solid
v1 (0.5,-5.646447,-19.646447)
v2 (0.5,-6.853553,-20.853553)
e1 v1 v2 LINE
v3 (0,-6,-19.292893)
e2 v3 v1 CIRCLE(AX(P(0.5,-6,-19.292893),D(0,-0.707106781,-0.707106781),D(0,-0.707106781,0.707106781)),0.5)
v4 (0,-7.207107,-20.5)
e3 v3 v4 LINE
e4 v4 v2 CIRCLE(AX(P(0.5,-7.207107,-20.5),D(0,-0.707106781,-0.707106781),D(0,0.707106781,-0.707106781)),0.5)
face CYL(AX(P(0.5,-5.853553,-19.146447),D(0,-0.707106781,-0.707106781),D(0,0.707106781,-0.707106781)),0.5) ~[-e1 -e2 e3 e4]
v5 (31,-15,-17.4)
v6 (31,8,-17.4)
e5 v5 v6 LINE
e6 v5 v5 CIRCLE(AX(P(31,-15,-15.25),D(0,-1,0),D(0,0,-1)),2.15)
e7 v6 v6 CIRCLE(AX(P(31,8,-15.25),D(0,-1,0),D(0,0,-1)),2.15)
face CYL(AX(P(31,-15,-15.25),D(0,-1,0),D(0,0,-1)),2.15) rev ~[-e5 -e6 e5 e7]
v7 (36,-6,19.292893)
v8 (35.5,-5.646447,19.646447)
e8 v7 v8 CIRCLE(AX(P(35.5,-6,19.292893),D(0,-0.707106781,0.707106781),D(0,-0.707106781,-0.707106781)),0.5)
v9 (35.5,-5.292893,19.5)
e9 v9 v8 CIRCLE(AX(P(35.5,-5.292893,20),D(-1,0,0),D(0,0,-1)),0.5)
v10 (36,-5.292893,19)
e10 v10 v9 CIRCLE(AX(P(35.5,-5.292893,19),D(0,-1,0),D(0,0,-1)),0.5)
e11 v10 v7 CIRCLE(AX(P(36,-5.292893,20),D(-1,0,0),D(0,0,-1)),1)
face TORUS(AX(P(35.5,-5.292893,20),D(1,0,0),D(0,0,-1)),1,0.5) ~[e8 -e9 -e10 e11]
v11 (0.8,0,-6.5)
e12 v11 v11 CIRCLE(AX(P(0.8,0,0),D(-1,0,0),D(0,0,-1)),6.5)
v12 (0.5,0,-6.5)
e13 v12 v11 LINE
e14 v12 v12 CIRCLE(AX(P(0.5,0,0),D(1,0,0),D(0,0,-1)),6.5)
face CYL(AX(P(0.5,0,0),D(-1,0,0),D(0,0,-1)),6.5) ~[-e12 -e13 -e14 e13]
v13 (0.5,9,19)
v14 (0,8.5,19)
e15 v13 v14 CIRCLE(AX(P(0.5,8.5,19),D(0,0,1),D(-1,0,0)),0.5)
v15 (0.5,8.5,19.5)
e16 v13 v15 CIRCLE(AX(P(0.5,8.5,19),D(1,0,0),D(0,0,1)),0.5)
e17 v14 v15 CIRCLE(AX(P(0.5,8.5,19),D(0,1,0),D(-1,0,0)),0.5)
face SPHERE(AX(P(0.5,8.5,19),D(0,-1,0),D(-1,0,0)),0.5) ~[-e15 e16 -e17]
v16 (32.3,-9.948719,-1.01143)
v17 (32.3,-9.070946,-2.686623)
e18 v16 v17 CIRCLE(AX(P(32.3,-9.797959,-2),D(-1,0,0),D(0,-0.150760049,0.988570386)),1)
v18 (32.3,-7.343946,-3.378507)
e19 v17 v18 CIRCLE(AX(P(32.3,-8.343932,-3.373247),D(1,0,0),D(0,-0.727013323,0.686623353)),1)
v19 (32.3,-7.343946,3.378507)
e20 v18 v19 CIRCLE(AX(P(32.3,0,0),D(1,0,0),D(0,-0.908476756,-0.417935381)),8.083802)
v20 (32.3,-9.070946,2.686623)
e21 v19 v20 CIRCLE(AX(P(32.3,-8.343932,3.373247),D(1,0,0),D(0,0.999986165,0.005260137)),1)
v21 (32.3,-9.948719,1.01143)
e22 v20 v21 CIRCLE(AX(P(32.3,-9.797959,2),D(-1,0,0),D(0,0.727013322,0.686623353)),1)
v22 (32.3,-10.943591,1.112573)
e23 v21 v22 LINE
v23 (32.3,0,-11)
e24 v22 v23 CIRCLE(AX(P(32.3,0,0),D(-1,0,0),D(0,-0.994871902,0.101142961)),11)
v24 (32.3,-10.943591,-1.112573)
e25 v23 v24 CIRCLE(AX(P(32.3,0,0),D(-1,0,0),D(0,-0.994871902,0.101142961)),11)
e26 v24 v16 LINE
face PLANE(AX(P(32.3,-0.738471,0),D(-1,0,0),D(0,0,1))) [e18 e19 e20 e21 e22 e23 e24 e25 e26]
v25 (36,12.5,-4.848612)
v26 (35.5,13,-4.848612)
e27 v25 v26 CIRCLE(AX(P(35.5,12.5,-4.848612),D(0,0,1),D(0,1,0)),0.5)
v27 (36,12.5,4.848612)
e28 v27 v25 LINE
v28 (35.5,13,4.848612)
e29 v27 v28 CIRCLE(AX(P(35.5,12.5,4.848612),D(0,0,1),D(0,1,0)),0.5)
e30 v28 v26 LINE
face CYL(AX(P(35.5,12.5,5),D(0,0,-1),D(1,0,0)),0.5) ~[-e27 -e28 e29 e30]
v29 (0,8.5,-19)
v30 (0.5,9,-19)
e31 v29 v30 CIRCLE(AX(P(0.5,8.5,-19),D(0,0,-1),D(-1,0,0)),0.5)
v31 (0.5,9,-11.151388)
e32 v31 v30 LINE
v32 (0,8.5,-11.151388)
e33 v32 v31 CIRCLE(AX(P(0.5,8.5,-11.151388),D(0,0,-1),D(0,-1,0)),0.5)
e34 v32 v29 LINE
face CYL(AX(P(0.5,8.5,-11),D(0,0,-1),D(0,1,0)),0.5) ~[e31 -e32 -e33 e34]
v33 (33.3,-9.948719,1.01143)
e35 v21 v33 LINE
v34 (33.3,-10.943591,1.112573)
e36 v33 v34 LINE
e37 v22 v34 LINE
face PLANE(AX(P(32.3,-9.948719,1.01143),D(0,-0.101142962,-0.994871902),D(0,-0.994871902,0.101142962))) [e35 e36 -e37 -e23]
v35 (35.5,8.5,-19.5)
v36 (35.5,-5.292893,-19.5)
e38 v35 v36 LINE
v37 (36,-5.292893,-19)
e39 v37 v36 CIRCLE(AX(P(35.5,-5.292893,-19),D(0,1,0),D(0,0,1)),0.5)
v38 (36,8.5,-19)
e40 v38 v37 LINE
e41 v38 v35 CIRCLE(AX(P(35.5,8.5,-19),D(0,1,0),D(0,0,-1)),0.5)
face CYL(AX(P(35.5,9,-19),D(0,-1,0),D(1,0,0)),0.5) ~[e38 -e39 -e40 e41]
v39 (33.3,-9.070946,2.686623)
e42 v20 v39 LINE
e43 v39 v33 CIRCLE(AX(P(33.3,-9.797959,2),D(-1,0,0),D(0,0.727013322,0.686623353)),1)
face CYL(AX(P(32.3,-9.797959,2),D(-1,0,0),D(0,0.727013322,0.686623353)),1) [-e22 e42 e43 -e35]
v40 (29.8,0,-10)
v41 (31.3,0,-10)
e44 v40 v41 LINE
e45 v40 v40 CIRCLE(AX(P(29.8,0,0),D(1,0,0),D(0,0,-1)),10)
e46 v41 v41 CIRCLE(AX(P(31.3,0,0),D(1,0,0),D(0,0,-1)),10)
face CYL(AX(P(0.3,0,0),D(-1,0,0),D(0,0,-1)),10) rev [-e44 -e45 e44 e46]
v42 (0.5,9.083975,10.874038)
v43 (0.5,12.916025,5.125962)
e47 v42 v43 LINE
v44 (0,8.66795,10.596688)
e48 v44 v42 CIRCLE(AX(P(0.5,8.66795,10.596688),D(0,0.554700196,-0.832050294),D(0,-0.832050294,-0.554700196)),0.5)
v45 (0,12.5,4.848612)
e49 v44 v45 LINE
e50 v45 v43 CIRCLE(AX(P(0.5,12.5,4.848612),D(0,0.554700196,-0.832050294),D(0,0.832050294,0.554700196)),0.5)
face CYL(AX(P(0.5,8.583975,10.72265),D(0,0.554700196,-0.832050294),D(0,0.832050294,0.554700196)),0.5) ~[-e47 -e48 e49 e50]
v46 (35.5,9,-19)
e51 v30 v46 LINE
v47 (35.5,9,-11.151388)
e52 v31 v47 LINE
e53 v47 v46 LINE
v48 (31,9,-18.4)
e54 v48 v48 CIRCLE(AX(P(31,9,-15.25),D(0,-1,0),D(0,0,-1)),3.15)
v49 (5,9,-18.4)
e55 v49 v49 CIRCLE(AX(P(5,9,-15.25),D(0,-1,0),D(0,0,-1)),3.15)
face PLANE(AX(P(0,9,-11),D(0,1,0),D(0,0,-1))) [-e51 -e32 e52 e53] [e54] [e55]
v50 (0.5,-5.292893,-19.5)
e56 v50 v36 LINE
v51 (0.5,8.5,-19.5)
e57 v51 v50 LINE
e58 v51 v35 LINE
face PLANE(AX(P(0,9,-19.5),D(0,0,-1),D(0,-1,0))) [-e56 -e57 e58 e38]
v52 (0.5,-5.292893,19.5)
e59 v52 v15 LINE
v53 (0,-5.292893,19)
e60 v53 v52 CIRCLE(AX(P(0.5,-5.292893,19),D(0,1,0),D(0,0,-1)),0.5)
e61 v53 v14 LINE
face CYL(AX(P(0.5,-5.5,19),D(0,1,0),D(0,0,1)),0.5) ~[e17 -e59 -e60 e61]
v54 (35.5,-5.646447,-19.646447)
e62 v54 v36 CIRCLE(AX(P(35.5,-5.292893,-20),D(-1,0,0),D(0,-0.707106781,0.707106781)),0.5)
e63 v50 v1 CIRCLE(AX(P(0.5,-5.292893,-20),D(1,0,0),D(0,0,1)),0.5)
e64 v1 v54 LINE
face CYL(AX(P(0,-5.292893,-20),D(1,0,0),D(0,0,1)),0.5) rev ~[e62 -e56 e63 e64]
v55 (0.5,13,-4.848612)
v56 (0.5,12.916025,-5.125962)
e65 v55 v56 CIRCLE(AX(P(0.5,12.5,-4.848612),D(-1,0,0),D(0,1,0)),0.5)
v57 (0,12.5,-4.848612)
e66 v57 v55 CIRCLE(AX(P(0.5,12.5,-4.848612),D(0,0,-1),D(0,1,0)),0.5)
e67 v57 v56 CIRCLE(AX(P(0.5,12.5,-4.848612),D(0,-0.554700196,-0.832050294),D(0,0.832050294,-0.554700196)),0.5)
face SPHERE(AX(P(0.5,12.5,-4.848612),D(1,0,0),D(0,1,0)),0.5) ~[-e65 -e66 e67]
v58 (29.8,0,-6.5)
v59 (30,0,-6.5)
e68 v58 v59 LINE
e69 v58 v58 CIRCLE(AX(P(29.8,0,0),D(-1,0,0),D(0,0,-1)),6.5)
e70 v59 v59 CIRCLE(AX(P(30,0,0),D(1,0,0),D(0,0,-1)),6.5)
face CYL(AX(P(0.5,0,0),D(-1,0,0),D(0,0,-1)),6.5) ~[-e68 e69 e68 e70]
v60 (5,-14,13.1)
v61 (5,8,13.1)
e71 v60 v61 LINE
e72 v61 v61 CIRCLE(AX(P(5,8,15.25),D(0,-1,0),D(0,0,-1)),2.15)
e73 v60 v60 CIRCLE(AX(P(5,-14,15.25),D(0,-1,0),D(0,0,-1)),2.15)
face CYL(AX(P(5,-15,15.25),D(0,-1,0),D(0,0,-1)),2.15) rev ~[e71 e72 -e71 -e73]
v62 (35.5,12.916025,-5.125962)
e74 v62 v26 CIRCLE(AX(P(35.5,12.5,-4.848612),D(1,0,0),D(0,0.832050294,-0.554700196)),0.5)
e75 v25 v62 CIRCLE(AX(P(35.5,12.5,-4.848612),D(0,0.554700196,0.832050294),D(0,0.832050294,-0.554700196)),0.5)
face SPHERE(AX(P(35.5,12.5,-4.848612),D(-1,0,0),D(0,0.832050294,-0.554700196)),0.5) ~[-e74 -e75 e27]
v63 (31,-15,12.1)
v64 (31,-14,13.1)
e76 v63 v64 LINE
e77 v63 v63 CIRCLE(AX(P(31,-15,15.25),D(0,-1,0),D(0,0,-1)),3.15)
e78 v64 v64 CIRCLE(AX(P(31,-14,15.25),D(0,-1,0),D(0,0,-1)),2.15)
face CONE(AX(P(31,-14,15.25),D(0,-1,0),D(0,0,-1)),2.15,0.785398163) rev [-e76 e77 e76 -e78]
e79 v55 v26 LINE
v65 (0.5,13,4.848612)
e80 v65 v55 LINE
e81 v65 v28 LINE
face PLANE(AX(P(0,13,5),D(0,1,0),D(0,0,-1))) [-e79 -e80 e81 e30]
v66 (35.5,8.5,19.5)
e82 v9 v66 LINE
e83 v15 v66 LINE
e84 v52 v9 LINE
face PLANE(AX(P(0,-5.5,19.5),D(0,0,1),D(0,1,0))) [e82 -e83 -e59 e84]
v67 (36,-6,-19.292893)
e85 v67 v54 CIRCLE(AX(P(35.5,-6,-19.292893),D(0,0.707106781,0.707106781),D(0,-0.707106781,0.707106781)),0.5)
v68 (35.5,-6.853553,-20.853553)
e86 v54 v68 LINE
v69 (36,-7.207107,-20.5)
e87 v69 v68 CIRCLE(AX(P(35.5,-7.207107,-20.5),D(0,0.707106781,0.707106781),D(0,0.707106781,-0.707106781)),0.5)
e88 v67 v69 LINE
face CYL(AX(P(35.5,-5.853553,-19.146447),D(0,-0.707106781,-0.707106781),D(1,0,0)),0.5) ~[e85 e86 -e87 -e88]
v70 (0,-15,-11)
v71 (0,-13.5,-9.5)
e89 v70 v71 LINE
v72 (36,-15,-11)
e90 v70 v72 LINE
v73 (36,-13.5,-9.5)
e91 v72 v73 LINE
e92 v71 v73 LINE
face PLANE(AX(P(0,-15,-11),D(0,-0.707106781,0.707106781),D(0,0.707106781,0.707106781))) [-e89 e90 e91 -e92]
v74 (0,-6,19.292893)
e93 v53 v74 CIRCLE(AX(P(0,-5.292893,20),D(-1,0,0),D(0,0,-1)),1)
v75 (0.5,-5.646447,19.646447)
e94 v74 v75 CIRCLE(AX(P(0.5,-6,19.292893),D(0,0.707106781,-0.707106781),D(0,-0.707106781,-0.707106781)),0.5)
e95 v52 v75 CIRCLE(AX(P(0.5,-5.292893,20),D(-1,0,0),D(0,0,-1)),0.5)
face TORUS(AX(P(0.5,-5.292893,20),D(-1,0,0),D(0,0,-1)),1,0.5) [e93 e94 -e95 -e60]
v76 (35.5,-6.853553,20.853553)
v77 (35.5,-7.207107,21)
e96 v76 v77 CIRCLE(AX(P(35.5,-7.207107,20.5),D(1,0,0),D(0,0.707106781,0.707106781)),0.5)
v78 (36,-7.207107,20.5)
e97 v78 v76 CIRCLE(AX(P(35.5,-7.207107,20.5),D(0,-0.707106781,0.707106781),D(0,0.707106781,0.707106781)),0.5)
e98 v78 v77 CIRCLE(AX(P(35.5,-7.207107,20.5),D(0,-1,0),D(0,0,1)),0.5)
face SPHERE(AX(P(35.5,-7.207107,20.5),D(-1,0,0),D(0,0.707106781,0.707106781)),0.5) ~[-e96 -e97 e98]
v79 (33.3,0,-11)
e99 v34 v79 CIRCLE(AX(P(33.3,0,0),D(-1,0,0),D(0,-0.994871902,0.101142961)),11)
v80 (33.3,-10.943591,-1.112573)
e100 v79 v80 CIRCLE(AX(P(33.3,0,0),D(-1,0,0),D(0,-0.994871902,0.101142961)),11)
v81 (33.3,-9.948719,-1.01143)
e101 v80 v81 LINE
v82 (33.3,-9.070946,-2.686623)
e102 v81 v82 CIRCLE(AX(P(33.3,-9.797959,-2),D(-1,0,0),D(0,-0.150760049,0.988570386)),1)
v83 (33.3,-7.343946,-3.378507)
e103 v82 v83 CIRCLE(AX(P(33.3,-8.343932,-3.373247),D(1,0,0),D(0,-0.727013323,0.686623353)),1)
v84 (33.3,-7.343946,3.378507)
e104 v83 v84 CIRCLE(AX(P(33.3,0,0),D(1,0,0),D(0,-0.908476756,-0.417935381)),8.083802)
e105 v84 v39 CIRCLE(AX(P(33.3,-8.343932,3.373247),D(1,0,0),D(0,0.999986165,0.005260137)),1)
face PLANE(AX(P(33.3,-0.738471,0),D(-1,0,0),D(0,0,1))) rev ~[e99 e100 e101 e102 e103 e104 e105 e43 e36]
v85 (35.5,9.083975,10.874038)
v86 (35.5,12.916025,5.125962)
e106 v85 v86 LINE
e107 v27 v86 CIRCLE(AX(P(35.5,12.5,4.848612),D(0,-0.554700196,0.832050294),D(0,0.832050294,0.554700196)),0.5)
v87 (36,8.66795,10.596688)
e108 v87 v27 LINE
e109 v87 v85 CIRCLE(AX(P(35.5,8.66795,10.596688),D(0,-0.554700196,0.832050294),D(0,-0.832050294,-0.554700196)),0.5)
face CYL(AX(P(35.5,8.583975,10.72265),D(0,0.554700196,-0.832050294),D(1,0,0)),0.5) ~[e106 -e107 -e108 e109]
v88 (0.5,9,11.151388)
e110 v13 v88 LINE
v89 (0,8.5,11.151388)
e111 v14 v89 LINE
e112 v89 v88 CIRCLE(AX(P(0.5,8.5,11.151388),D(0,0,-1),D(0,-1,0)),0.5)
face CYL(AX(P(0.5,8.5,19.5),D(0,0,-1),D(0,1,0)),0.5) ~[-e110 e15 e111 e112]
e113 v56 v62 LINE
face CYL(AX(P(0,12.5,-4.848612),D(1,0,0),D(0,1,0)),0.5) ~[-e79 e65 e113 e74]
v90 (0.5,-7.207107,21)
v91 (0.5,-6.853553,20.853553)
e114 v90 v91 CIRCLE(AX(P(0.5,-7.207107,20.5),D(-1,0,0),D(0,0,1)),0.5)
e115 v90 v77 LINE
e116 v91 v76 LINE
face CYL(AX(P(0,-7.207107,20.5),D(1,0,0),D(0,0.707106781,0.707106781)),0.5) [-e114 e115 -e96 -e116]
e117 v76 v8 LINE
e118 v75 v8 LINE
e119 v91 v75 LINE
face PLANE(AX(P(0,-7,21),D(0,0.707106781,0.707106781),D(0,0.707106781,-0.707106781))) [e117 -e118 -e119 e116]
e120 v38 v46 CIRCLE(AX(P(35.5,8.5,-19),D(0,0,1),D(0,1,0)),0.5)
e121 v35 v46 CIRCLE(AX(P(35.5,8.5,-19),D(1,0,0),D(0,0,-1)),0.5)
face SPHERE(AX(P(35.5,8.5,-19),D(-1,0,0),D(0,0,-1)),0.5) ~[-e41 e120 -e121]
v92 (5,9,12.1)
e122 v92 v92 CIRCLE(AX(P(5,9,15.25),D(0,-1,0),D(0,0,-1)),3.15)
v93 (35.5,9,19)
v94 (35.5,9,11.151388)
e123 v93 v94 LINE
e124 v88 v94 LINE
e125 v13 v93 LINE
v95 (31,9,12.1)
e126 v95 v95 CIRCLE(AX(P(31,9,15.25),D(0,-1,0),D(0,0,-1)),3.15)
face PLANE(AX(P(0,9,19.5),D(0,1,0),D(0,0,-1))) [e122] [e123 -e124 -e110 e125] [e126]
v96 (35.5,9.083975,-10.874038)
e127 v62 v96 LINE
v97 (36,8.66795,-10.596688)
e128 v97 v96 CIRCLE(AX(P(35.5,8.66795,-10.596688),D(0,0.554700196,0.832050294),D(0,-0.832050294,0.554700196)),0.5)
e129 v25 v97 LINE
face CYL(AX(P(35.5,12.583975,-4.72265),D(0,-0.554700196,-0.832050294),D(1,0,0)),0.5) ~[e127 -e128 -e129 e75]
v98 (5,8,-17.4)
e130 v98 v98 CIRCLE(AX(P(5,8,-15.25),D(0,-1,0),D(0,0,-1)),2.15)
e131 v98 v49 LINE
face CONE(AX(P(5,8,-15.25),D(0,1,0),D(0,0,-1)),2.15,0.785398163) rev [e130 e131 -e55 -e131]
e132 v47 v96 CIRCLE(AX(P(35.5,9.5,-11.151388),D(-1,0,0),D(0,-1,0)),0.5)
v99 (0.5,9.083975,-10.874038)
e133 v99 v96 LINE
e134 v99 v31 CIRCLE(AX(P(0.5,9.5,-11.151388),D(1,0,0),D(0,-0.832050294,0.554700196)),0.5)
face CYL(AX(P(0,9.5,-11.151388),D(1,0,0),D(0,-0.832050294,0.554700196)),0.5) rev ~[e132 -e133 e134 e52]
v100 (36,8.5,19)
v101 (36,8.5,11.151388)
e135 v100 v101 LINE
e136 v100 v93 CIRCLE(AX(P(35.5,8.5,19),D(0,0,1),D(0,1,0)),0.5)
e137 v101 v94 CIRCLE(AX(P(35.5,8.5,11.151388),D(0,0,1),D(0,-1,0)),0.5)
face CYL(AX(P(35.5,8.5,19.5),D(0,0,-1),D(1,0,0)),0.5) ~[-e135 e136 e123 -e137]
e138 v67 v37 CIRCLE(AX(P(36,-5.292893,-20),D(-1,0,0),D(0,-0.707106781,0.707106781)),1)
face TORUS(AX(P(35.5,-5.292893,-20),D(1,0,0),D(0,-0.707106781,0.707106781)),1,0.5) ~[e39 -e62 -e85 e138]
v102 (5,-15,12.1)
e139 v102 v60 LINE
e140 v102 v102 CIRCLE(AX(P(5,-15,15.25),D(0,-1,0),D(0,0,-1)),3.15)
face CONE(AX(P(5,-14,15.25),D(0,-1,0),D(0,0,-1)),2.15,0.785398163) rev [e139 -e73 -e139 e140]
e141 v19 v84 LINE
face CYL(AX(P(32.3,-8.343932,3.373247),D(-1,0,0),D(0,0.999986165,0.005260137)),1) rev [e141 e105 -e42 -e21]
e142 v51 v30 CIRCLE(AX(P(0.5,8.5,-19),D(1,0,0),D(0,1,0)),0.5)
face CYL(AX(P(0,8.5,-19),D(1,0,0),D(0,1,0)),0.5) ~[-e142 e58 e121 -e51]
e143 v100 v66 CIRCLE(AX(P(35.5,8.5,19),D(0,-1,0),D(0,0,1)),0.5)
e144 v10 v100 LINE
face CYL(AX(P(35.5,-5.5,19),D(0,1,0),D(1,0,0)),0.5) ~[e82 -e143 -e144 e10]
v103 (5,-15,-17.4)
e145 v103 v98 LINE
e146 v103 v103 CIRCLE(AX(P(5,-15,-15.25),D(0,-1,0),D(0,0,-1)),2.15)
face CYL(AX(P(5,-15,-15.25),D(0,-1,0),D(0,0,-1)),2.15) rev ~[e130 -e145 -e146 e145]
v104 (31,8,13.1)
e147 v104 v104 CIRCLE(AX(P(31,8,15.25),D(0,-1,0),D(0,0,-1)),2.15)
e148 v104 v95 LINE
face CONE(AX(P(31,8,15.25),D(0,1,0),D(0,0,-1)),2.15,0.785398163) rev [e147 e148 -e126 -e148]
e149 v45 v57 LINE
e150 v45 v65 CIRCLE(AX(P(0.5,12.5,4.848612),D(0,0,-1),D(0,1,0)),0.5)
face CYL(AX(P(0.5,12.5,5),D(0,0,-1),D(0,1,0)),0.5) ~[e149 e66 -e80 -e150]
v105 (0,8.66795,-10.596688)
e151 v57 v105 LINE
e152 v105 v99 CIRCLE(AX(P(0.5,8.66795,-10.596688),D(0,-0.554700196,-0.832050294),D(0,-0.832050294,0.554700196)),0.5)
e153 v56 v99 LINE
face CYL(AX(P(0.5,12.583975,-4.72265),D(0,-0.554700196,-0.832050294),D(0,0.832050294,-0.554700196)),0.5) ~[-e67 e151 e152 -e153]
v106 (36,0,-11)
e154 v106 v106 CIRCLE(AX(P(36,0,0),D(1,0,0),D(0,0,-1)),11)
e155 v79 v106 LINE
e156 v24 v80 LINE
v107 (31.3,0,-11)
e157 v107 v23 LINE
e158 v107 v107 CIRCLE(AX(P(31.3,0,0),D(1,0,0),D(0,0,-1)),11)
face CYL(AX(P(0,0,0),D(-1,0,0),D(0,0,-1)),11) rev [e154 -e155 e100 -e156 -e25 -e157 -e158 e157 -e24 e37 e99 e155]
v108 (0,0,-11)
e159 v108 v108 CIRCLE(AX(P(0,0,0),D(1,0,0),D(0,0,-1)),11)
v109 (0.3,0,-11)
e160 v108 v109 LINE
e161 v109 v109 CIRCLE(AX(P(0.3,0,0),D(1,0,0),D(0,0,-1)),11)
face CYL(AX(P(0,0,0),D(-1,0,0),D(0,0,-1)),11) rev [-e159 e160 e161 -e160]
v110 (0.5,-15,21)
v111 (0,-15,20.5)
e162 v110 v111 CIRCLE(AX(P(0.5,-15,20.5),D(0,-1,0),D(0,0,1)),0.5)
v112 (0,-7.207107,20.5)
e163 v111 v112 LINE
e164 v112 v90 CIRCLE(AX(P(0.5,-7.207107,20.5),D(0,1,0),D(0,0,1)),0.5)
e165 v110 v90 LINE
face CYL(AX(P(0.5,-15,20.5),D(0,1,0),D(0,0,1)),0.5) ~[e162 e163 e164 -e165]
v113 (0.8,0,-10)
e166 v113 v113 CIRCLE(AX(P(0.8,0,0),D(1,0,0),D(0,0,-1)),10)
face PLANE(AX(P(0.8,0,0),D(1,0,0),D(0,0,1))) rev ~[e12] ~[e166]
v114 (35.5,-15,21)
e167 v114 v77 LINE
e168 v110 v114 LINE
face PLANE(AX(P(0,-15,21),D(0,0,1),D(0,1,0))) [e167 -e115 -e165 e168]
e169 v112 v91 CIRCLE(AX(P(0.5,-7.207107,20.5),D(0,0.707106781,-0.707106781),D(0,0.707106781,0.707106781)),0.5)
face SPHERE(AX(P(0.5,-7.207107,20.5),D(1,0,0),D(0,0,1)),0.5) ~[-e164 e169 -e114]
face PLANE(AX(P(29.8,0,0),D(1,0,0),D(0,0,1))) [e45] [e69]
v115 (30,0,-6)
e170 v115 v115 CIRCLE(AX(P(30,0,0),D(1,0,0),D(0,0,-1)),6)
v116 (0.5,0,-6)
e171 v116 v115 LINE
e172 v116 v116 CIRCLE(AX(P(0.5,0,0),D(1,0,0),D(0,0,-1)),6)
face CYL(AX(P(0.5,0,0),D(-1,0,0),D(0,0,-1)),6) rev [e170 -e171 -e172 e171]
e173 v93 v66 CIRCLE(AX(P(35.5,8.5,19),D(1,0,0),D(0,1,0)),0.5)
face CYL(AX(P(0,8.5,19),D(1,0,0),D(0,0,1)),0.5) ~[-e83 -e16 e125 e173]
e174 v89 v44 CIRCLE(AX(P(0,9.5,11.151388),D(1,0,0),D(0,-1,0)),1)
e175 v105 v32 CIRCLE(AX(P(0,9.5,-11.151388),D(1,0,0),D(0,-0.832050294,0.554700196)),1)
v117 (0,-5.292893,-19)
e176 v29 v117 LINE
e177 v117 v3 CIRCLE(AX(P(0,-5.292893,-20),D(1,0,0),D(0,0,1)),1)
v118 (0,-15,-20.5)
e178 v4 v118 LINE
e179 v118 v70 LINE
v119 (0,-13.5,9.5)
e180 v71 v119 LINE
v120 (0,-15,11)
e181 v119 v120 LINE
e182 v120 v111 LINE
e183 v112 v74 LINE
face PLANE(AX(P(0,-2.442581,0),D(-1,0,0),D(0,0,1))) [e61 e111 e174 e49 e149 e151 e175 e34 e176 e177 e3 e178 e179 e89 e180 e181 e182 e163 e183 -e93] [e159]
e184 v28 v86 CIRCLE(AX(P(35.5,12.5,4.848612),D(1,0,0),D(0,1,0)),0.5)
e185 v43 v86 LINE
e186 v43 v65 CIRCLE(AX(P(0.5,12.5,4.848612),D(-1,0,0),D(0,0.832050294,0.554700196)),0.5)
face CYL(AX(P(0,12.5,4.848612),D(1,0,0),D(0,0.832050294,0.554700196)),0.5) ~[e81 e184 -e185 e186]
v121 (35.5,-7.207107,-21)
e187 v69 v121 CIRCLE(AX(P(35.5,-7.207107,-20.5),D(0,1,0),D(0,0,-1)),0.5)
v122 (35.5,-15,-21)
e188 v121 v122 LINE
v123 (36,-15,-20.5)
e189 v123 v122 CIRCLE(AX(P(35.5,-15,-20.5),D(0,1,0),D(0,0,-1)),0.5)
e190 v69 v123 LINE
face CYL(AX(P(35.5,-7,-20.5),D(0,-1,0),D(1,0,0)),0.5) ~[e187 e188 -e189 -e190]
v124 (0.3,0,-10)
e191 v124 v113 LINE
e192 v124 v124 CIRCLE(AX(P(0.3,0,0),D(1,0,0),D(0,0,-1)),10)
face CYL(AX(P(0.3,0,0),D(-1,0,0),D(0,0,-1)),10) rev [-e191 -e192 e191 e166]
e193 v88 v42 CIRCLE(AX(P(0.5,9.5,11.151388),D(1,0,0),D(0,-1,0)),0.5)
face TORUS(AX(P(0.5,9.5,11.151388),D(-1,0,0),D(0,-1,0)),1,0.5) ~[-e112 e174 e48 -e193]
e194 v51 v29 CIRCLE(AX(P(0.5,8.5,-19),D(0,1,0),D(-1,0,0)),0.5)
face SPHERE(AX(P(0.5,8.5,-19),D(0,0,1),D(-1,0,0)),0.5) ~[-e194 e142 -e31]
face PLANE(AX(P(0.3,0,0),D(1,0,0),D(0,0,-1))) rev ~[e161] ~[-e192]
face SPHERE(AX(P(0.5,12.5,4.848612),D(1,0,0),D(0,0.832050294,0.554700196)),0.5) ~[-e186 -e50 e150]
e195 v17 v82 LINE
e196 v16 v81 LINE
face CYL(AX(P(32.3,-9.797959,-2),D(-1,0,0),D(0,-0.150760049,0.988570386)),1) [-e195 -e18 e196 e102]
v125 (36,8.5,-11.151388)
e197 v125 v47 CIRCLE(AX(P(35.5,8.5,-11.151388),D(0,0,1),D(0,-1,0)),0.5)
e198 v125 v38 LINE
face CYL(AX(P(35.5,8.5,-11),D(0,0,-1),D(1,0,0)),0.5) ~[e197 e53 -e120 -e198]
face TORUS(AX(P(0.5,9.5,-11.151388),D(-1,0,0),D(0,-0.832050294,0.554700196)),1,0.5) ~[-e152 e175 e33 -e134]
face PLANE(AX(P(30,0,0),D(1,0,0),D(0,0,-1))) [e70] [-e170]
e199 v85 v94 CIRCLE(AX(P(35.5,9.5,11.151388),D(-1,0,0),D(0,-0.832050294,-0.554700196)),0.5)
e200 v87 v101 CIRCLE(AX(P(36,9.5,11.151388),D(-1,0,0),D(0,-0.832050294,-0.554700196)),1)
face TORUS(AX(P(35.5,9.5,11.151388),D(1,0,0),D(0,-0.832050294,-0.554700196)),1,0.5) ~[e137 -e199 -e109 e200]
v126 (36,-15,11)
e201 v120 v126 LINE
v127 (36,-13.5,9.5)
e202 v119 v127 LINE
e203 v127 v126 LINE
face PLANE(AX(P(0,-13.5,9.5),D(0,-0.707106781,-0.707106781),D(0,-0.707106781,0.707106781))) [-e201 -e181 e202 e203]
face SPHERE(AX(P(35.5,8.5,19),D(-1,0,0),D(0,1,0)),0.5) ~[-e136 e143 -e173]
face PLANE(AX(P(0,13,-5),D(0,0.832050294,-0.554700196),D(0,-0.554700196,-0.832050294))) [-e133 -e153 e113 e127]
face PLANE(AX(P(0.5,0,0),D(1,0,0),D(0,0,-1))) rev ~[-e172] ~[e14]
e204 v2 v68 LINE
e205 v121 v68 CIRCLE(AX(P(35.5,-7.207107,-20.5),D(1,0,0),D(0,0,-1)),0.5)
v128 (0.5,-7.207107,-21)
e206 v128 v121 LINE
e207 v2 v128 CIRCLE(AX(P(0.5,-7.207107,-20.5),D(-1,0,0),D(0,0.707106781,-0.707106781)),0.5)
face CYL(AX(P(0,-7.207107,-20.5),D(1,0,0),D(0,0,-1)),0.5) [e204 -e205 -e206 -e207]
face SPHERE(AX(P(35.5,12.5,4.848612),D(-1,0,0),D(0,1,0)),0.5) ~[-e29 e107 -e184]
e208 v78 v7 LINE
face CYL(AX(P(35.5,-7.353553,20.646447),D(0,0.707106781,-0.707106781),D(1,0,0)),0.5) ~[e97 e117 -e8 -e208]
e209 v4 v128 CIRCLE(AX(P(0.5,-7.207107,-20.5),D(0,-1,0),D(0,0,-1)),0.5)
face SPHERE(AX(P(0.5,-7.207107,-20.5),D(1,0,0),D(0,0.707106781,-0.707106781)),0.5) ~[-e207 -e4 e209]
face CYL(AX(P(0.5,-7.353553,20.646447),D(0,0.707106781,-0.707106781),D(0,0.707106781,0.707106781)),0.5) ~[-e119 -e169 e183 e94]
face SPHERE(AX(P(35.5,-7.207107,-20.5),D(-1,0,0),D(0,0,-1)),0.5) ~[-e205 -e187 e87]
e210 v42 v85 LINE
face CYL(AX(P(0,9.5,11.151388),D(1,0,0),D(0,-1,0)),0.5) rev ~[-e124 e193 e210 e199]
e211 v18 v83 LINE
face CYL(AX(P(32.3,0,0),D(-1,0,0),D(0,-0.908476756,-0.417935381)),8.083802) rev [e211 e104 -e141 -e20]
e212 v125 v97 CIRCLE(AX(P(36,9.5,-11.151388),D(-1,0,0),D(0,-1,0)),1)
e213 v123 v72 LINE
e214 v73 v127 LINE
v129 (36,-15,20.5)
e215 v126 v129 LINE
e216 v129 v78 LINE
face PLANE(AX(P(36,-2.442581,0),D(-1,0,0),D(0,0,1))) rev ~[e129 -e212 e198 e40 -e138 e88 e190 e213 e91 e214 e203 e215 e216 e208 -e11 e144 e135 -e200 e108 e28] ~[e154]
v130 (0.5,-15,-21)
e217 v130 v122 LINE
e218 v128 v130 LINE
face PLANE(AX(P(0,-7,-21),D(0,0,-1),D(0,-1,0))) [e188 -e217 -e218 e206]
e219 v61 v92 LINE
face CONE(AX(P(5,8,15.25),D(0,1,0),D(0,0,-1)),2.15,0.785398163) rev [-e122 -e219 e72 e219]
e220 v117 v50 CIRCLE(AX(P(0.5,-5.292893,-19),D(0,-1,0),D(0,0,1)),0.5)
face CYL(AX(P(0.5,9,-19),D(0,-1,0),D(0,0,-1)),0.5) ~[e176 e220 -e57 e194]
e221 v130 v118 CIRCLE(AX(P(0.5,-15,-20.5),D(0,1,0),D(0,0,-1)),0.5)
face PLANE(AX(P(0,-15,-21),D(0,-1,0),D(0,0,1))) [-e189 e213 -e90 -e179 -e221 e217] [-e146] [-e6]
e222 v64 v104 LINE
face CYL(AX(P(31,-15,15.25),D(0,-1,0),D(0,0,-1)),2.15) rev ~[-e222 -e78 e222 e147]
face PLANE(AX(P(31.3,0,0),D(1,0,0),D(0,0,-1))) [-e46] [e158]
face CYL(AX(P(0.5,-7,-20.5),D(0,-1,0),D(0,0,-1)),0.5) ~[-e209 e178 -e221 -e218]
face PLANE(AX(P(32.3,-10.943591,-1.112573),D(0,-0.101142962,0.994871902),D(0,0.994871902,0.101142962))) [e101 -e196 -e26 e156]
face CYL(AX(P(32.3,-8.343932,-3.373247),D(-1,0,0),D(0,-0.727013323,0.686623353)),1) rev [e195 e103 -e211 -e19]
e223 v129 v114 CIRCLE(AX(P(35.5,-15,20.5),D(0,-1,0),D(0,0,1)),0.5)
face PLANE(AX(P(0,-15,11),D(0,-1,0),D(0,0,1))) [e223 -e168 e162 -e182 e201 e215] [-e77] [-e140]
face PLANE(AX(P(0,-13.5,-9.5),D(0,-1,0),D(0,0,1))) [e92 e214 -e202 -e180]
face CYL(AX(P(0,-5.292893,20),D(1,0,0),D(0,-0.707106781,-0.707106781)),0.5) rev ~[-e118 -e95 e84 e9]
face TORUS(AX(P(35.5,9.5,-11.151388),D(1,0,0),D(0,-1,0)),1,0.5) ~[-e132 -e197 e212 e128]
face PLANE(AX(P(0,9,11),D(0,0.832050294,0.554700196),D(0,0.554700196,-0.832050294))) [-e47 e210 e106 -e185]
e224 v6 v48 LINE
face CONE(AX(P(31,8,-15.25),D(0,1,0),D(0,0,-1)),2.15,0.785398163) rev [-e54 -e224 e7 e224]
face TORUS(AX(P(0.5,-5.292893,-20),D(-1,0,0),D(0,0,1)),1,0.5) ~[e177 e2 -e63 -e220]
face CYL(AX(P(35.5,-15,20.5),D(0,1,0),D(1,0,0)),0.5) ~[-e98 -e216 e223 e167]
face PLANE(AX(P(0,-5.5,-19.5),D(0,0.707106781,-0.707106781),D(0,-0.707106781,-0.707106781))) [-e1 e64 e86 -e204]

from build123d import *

# Parameters (mm, degrees)
SKETCH1_R           = 11
BOSS_EXTRUDE1_DEPTH = 36
EXTRUDE_THIN1_START = 0.5
SKETCH1_4_R         = 6.5
SKETCH1_4_R_2       = 6
EXTRUDE_THIN1_DEPTH = 29.5
BOSS_EXTRUDE2_START = 0.8
SKETCH1_5_R         = 10
SKETCH1_5_R_2       = 6
BOSS_EXTRUDE2_DEPTH = 29
BOSS_EXTRUDE3_START = 0.3
SKETCH1_6_R         = 11
SKETCH1_6_R_2       = 10
BOSS_EXTRUDE3_DEPTH = 31
BOSS_EXTRUDE4_START = 1
BOSS_EXTRUDE4_DEPTH = 1
FILLET1_R           = 0.5
SKETCH4_R           = 2.15
CUT_EXTRUDE3_DEPTH  = 51.209560914
CHAMFER1_SIZE       = 1


with BuildPart() as part:
    # Sketch1 → Boss-Extrude1 (new body)
    with BuildSketch(Plane(origin=(0, 0, 0), x_dir=(0, 0, -1), z_dir=(1, 0, 0))):
        Polygon((-21, -15), (-11, -15), (-9.5, -13.5), (9.5, -13.5), (11, -15), (21, -15), (21, -7), (19.5, -5.5), (19.5, 9), (11, 9), (5, 13), (-5, 13), (-11, 9), (-19.5, 9), (-19.5, -5.5), (-21, -7), align=None)
        Circle(SKETCH1_R, mode=Mode.SUBTRACT)
    extrude(amount=BOSS_EXTRUDE1_DEPTH)



with BuildPart() as body_2:
    # Sketch1<4> → Extrude-Thin1 (new body)
    with BuildSketch(Plane(origin=(0, 0, 0), x_dir=(0, 0, -1), z_dir=(1, 0, 0)).offset(EXTRUDE_THIN1_START)):
        Circle(SKETCH1_4_R)
        Circle(SKETCH1_4_R_2, mode=Mode.SUBTRACT)
    extrude(amount=EXTRUDE_THIN1_DEPTH)

    # Sketch1<5> → Boss-Extrude2 (add)
    with BuildSketch(Plane(origin=(0, 0, 0), x_dir=(0, 0, -1), z_dir=(1, 0, 0)).offset(BOSS_EXTRUDE2_START)):
        Circle(SKETCH1_5_R)
        Circle(SKETCH1_5_R_2, mode=Mode.SUBTRACT)
    extrude(amount=BOSS_EXTRUDE2_DEPTH)


with BuildPart() as part_1:
    add(part.part)

    add(body_2.part)  # Boss-Extrude3 merges body 2
    # Sketch1<6> → Boss-Extrude3 (add)
    with BuildSketch(Plane(origin=(0, 0, 0), x_dir=(0, 0, -1), z_dir=(1, 0, 0)).offset(BOSS_EXTRUDE3_START)):
        Circle(SKETCH1_6_R)
        Circle(SKETCH1_6_R_2, mode=Mode.SUBTRACT)
    extrude(amount=BOSS_EXTRUDE3_DEPTH)

    # Sketch3 → Boss-Extrude4 (add)
    with BuildSketch(Plane(origin=(31.3, 0, 0), x_dir=(0, 0, -1), z_dir=(1, 0, 0)).offset(BOSS_EXTRUDE4_START)):
        with BuildLine():
            Line((-1.011429614, -9.94871902), (-1.112572576, -10.943590922))
            ThreePointArc((-1.112572576, -10.943590922), (0, 11), (1.112572576, -10.943590922))
            Line((1.112572576, -10.943590922), (1.011429614, -9.94871902))
            ThreePointArc((1.011429614, -9.94871902), (1.535872296, -8.912190675), (2.686623353, -9.070945649))
            ThreePointArc((2.686623353, -9.070945649), (4.301522401, -8.715825098), (3.378506843, -7.343946161))
            ThreePointArc((3.378506843, -7.343946161), (0, 8.083801933), (-3.378506843, -7.343946161))
            ThreePointArc((-3.378506843, -7.343946161), (-4.301522401, -8.715825098), (-2.686623353, -9.070945649))
            ThreePointArc((-2.686623353, -9.070945649), (-1.535872296, -8.912190675), (-1.011429614, -9.94871902))
        make_face()
    extrude(amount=BOSS_EXTRUDE4_DEPTH)

    # Fillet1
    fillet1_edges = [part_1.edges().sort_by_distance(p)[0] for p in [
        (18, -5.5, -19.5),
        (18, -5.5, 19.5),
        (18, -7, 21),
        (18, -7, -21),
        (18, 9, -11),
        (18, 9, 11),
        (18, 13, 5),
        (18, 13, -5),
        (18, 9, -19.5),
        (18, 9, 19.5),
        (36, 11, -8),
        (36, 11, 8),
        (36, 1.75, 19.5),
        (0, -6.25, 20.25),
        (0, 11, 8),
        (36, -6.25, -20.25),
        (36, -11, -21),
        (36, 1.75, -19.5),
        (36, 13, 0),
        (36, 9, -15.25),
        (36, 9, 15.25),
        (36, -6.25, 20.25),
        (36, -11, 21),
        (0, -11, -21),
        (0, -6.25, -20.25),
        (0, 1.75, -19.5),
        (0, 11, -8),
        (0, 9, -15.25),
        (0, 13, 0),
        (0, -11, 21),
        (0, 1.75, 19.5),
        (0, 9, 15.25),
    ]]
    fillet(fillet1_edges, radius=FILLET1_R)

    # Sketch4 → Cut-Extrude3 (cut, through all)
    with BuildSketch(Plane.XZ.offset(15)):
        with Locations((5, 15.25)):
            Circle(SKETCH4_R)
        with Locations((31, 15.25)):
            Circle(SKETCH4_R)
        with Locations((31, -15.25)):
            Circle(SKETCH4_R)
        with Locations((5, -15.25)):
            Circle(SKETCH4_R)
    extrude(amount=-CUT_EXTRUDE3_DEPTH, mode=Mode.SUBTRACT)

    # Chamfer1
    chamfer1_edges = [part_1.edges().sort_by_distance(p)[0] for p in [
        (28.85, 9, -15.25),
        (2.85, 9, -15.25),
        (2.85, 9, 15.25),
        (28.85, 9, 15.25),
        (28.85, -15, 15.25),
        (2.85, -15, 15.25),
    ]]
    chamfer(chamfer1_edges, length=CHAMFER1_SIZE)


solid = part_1.part
